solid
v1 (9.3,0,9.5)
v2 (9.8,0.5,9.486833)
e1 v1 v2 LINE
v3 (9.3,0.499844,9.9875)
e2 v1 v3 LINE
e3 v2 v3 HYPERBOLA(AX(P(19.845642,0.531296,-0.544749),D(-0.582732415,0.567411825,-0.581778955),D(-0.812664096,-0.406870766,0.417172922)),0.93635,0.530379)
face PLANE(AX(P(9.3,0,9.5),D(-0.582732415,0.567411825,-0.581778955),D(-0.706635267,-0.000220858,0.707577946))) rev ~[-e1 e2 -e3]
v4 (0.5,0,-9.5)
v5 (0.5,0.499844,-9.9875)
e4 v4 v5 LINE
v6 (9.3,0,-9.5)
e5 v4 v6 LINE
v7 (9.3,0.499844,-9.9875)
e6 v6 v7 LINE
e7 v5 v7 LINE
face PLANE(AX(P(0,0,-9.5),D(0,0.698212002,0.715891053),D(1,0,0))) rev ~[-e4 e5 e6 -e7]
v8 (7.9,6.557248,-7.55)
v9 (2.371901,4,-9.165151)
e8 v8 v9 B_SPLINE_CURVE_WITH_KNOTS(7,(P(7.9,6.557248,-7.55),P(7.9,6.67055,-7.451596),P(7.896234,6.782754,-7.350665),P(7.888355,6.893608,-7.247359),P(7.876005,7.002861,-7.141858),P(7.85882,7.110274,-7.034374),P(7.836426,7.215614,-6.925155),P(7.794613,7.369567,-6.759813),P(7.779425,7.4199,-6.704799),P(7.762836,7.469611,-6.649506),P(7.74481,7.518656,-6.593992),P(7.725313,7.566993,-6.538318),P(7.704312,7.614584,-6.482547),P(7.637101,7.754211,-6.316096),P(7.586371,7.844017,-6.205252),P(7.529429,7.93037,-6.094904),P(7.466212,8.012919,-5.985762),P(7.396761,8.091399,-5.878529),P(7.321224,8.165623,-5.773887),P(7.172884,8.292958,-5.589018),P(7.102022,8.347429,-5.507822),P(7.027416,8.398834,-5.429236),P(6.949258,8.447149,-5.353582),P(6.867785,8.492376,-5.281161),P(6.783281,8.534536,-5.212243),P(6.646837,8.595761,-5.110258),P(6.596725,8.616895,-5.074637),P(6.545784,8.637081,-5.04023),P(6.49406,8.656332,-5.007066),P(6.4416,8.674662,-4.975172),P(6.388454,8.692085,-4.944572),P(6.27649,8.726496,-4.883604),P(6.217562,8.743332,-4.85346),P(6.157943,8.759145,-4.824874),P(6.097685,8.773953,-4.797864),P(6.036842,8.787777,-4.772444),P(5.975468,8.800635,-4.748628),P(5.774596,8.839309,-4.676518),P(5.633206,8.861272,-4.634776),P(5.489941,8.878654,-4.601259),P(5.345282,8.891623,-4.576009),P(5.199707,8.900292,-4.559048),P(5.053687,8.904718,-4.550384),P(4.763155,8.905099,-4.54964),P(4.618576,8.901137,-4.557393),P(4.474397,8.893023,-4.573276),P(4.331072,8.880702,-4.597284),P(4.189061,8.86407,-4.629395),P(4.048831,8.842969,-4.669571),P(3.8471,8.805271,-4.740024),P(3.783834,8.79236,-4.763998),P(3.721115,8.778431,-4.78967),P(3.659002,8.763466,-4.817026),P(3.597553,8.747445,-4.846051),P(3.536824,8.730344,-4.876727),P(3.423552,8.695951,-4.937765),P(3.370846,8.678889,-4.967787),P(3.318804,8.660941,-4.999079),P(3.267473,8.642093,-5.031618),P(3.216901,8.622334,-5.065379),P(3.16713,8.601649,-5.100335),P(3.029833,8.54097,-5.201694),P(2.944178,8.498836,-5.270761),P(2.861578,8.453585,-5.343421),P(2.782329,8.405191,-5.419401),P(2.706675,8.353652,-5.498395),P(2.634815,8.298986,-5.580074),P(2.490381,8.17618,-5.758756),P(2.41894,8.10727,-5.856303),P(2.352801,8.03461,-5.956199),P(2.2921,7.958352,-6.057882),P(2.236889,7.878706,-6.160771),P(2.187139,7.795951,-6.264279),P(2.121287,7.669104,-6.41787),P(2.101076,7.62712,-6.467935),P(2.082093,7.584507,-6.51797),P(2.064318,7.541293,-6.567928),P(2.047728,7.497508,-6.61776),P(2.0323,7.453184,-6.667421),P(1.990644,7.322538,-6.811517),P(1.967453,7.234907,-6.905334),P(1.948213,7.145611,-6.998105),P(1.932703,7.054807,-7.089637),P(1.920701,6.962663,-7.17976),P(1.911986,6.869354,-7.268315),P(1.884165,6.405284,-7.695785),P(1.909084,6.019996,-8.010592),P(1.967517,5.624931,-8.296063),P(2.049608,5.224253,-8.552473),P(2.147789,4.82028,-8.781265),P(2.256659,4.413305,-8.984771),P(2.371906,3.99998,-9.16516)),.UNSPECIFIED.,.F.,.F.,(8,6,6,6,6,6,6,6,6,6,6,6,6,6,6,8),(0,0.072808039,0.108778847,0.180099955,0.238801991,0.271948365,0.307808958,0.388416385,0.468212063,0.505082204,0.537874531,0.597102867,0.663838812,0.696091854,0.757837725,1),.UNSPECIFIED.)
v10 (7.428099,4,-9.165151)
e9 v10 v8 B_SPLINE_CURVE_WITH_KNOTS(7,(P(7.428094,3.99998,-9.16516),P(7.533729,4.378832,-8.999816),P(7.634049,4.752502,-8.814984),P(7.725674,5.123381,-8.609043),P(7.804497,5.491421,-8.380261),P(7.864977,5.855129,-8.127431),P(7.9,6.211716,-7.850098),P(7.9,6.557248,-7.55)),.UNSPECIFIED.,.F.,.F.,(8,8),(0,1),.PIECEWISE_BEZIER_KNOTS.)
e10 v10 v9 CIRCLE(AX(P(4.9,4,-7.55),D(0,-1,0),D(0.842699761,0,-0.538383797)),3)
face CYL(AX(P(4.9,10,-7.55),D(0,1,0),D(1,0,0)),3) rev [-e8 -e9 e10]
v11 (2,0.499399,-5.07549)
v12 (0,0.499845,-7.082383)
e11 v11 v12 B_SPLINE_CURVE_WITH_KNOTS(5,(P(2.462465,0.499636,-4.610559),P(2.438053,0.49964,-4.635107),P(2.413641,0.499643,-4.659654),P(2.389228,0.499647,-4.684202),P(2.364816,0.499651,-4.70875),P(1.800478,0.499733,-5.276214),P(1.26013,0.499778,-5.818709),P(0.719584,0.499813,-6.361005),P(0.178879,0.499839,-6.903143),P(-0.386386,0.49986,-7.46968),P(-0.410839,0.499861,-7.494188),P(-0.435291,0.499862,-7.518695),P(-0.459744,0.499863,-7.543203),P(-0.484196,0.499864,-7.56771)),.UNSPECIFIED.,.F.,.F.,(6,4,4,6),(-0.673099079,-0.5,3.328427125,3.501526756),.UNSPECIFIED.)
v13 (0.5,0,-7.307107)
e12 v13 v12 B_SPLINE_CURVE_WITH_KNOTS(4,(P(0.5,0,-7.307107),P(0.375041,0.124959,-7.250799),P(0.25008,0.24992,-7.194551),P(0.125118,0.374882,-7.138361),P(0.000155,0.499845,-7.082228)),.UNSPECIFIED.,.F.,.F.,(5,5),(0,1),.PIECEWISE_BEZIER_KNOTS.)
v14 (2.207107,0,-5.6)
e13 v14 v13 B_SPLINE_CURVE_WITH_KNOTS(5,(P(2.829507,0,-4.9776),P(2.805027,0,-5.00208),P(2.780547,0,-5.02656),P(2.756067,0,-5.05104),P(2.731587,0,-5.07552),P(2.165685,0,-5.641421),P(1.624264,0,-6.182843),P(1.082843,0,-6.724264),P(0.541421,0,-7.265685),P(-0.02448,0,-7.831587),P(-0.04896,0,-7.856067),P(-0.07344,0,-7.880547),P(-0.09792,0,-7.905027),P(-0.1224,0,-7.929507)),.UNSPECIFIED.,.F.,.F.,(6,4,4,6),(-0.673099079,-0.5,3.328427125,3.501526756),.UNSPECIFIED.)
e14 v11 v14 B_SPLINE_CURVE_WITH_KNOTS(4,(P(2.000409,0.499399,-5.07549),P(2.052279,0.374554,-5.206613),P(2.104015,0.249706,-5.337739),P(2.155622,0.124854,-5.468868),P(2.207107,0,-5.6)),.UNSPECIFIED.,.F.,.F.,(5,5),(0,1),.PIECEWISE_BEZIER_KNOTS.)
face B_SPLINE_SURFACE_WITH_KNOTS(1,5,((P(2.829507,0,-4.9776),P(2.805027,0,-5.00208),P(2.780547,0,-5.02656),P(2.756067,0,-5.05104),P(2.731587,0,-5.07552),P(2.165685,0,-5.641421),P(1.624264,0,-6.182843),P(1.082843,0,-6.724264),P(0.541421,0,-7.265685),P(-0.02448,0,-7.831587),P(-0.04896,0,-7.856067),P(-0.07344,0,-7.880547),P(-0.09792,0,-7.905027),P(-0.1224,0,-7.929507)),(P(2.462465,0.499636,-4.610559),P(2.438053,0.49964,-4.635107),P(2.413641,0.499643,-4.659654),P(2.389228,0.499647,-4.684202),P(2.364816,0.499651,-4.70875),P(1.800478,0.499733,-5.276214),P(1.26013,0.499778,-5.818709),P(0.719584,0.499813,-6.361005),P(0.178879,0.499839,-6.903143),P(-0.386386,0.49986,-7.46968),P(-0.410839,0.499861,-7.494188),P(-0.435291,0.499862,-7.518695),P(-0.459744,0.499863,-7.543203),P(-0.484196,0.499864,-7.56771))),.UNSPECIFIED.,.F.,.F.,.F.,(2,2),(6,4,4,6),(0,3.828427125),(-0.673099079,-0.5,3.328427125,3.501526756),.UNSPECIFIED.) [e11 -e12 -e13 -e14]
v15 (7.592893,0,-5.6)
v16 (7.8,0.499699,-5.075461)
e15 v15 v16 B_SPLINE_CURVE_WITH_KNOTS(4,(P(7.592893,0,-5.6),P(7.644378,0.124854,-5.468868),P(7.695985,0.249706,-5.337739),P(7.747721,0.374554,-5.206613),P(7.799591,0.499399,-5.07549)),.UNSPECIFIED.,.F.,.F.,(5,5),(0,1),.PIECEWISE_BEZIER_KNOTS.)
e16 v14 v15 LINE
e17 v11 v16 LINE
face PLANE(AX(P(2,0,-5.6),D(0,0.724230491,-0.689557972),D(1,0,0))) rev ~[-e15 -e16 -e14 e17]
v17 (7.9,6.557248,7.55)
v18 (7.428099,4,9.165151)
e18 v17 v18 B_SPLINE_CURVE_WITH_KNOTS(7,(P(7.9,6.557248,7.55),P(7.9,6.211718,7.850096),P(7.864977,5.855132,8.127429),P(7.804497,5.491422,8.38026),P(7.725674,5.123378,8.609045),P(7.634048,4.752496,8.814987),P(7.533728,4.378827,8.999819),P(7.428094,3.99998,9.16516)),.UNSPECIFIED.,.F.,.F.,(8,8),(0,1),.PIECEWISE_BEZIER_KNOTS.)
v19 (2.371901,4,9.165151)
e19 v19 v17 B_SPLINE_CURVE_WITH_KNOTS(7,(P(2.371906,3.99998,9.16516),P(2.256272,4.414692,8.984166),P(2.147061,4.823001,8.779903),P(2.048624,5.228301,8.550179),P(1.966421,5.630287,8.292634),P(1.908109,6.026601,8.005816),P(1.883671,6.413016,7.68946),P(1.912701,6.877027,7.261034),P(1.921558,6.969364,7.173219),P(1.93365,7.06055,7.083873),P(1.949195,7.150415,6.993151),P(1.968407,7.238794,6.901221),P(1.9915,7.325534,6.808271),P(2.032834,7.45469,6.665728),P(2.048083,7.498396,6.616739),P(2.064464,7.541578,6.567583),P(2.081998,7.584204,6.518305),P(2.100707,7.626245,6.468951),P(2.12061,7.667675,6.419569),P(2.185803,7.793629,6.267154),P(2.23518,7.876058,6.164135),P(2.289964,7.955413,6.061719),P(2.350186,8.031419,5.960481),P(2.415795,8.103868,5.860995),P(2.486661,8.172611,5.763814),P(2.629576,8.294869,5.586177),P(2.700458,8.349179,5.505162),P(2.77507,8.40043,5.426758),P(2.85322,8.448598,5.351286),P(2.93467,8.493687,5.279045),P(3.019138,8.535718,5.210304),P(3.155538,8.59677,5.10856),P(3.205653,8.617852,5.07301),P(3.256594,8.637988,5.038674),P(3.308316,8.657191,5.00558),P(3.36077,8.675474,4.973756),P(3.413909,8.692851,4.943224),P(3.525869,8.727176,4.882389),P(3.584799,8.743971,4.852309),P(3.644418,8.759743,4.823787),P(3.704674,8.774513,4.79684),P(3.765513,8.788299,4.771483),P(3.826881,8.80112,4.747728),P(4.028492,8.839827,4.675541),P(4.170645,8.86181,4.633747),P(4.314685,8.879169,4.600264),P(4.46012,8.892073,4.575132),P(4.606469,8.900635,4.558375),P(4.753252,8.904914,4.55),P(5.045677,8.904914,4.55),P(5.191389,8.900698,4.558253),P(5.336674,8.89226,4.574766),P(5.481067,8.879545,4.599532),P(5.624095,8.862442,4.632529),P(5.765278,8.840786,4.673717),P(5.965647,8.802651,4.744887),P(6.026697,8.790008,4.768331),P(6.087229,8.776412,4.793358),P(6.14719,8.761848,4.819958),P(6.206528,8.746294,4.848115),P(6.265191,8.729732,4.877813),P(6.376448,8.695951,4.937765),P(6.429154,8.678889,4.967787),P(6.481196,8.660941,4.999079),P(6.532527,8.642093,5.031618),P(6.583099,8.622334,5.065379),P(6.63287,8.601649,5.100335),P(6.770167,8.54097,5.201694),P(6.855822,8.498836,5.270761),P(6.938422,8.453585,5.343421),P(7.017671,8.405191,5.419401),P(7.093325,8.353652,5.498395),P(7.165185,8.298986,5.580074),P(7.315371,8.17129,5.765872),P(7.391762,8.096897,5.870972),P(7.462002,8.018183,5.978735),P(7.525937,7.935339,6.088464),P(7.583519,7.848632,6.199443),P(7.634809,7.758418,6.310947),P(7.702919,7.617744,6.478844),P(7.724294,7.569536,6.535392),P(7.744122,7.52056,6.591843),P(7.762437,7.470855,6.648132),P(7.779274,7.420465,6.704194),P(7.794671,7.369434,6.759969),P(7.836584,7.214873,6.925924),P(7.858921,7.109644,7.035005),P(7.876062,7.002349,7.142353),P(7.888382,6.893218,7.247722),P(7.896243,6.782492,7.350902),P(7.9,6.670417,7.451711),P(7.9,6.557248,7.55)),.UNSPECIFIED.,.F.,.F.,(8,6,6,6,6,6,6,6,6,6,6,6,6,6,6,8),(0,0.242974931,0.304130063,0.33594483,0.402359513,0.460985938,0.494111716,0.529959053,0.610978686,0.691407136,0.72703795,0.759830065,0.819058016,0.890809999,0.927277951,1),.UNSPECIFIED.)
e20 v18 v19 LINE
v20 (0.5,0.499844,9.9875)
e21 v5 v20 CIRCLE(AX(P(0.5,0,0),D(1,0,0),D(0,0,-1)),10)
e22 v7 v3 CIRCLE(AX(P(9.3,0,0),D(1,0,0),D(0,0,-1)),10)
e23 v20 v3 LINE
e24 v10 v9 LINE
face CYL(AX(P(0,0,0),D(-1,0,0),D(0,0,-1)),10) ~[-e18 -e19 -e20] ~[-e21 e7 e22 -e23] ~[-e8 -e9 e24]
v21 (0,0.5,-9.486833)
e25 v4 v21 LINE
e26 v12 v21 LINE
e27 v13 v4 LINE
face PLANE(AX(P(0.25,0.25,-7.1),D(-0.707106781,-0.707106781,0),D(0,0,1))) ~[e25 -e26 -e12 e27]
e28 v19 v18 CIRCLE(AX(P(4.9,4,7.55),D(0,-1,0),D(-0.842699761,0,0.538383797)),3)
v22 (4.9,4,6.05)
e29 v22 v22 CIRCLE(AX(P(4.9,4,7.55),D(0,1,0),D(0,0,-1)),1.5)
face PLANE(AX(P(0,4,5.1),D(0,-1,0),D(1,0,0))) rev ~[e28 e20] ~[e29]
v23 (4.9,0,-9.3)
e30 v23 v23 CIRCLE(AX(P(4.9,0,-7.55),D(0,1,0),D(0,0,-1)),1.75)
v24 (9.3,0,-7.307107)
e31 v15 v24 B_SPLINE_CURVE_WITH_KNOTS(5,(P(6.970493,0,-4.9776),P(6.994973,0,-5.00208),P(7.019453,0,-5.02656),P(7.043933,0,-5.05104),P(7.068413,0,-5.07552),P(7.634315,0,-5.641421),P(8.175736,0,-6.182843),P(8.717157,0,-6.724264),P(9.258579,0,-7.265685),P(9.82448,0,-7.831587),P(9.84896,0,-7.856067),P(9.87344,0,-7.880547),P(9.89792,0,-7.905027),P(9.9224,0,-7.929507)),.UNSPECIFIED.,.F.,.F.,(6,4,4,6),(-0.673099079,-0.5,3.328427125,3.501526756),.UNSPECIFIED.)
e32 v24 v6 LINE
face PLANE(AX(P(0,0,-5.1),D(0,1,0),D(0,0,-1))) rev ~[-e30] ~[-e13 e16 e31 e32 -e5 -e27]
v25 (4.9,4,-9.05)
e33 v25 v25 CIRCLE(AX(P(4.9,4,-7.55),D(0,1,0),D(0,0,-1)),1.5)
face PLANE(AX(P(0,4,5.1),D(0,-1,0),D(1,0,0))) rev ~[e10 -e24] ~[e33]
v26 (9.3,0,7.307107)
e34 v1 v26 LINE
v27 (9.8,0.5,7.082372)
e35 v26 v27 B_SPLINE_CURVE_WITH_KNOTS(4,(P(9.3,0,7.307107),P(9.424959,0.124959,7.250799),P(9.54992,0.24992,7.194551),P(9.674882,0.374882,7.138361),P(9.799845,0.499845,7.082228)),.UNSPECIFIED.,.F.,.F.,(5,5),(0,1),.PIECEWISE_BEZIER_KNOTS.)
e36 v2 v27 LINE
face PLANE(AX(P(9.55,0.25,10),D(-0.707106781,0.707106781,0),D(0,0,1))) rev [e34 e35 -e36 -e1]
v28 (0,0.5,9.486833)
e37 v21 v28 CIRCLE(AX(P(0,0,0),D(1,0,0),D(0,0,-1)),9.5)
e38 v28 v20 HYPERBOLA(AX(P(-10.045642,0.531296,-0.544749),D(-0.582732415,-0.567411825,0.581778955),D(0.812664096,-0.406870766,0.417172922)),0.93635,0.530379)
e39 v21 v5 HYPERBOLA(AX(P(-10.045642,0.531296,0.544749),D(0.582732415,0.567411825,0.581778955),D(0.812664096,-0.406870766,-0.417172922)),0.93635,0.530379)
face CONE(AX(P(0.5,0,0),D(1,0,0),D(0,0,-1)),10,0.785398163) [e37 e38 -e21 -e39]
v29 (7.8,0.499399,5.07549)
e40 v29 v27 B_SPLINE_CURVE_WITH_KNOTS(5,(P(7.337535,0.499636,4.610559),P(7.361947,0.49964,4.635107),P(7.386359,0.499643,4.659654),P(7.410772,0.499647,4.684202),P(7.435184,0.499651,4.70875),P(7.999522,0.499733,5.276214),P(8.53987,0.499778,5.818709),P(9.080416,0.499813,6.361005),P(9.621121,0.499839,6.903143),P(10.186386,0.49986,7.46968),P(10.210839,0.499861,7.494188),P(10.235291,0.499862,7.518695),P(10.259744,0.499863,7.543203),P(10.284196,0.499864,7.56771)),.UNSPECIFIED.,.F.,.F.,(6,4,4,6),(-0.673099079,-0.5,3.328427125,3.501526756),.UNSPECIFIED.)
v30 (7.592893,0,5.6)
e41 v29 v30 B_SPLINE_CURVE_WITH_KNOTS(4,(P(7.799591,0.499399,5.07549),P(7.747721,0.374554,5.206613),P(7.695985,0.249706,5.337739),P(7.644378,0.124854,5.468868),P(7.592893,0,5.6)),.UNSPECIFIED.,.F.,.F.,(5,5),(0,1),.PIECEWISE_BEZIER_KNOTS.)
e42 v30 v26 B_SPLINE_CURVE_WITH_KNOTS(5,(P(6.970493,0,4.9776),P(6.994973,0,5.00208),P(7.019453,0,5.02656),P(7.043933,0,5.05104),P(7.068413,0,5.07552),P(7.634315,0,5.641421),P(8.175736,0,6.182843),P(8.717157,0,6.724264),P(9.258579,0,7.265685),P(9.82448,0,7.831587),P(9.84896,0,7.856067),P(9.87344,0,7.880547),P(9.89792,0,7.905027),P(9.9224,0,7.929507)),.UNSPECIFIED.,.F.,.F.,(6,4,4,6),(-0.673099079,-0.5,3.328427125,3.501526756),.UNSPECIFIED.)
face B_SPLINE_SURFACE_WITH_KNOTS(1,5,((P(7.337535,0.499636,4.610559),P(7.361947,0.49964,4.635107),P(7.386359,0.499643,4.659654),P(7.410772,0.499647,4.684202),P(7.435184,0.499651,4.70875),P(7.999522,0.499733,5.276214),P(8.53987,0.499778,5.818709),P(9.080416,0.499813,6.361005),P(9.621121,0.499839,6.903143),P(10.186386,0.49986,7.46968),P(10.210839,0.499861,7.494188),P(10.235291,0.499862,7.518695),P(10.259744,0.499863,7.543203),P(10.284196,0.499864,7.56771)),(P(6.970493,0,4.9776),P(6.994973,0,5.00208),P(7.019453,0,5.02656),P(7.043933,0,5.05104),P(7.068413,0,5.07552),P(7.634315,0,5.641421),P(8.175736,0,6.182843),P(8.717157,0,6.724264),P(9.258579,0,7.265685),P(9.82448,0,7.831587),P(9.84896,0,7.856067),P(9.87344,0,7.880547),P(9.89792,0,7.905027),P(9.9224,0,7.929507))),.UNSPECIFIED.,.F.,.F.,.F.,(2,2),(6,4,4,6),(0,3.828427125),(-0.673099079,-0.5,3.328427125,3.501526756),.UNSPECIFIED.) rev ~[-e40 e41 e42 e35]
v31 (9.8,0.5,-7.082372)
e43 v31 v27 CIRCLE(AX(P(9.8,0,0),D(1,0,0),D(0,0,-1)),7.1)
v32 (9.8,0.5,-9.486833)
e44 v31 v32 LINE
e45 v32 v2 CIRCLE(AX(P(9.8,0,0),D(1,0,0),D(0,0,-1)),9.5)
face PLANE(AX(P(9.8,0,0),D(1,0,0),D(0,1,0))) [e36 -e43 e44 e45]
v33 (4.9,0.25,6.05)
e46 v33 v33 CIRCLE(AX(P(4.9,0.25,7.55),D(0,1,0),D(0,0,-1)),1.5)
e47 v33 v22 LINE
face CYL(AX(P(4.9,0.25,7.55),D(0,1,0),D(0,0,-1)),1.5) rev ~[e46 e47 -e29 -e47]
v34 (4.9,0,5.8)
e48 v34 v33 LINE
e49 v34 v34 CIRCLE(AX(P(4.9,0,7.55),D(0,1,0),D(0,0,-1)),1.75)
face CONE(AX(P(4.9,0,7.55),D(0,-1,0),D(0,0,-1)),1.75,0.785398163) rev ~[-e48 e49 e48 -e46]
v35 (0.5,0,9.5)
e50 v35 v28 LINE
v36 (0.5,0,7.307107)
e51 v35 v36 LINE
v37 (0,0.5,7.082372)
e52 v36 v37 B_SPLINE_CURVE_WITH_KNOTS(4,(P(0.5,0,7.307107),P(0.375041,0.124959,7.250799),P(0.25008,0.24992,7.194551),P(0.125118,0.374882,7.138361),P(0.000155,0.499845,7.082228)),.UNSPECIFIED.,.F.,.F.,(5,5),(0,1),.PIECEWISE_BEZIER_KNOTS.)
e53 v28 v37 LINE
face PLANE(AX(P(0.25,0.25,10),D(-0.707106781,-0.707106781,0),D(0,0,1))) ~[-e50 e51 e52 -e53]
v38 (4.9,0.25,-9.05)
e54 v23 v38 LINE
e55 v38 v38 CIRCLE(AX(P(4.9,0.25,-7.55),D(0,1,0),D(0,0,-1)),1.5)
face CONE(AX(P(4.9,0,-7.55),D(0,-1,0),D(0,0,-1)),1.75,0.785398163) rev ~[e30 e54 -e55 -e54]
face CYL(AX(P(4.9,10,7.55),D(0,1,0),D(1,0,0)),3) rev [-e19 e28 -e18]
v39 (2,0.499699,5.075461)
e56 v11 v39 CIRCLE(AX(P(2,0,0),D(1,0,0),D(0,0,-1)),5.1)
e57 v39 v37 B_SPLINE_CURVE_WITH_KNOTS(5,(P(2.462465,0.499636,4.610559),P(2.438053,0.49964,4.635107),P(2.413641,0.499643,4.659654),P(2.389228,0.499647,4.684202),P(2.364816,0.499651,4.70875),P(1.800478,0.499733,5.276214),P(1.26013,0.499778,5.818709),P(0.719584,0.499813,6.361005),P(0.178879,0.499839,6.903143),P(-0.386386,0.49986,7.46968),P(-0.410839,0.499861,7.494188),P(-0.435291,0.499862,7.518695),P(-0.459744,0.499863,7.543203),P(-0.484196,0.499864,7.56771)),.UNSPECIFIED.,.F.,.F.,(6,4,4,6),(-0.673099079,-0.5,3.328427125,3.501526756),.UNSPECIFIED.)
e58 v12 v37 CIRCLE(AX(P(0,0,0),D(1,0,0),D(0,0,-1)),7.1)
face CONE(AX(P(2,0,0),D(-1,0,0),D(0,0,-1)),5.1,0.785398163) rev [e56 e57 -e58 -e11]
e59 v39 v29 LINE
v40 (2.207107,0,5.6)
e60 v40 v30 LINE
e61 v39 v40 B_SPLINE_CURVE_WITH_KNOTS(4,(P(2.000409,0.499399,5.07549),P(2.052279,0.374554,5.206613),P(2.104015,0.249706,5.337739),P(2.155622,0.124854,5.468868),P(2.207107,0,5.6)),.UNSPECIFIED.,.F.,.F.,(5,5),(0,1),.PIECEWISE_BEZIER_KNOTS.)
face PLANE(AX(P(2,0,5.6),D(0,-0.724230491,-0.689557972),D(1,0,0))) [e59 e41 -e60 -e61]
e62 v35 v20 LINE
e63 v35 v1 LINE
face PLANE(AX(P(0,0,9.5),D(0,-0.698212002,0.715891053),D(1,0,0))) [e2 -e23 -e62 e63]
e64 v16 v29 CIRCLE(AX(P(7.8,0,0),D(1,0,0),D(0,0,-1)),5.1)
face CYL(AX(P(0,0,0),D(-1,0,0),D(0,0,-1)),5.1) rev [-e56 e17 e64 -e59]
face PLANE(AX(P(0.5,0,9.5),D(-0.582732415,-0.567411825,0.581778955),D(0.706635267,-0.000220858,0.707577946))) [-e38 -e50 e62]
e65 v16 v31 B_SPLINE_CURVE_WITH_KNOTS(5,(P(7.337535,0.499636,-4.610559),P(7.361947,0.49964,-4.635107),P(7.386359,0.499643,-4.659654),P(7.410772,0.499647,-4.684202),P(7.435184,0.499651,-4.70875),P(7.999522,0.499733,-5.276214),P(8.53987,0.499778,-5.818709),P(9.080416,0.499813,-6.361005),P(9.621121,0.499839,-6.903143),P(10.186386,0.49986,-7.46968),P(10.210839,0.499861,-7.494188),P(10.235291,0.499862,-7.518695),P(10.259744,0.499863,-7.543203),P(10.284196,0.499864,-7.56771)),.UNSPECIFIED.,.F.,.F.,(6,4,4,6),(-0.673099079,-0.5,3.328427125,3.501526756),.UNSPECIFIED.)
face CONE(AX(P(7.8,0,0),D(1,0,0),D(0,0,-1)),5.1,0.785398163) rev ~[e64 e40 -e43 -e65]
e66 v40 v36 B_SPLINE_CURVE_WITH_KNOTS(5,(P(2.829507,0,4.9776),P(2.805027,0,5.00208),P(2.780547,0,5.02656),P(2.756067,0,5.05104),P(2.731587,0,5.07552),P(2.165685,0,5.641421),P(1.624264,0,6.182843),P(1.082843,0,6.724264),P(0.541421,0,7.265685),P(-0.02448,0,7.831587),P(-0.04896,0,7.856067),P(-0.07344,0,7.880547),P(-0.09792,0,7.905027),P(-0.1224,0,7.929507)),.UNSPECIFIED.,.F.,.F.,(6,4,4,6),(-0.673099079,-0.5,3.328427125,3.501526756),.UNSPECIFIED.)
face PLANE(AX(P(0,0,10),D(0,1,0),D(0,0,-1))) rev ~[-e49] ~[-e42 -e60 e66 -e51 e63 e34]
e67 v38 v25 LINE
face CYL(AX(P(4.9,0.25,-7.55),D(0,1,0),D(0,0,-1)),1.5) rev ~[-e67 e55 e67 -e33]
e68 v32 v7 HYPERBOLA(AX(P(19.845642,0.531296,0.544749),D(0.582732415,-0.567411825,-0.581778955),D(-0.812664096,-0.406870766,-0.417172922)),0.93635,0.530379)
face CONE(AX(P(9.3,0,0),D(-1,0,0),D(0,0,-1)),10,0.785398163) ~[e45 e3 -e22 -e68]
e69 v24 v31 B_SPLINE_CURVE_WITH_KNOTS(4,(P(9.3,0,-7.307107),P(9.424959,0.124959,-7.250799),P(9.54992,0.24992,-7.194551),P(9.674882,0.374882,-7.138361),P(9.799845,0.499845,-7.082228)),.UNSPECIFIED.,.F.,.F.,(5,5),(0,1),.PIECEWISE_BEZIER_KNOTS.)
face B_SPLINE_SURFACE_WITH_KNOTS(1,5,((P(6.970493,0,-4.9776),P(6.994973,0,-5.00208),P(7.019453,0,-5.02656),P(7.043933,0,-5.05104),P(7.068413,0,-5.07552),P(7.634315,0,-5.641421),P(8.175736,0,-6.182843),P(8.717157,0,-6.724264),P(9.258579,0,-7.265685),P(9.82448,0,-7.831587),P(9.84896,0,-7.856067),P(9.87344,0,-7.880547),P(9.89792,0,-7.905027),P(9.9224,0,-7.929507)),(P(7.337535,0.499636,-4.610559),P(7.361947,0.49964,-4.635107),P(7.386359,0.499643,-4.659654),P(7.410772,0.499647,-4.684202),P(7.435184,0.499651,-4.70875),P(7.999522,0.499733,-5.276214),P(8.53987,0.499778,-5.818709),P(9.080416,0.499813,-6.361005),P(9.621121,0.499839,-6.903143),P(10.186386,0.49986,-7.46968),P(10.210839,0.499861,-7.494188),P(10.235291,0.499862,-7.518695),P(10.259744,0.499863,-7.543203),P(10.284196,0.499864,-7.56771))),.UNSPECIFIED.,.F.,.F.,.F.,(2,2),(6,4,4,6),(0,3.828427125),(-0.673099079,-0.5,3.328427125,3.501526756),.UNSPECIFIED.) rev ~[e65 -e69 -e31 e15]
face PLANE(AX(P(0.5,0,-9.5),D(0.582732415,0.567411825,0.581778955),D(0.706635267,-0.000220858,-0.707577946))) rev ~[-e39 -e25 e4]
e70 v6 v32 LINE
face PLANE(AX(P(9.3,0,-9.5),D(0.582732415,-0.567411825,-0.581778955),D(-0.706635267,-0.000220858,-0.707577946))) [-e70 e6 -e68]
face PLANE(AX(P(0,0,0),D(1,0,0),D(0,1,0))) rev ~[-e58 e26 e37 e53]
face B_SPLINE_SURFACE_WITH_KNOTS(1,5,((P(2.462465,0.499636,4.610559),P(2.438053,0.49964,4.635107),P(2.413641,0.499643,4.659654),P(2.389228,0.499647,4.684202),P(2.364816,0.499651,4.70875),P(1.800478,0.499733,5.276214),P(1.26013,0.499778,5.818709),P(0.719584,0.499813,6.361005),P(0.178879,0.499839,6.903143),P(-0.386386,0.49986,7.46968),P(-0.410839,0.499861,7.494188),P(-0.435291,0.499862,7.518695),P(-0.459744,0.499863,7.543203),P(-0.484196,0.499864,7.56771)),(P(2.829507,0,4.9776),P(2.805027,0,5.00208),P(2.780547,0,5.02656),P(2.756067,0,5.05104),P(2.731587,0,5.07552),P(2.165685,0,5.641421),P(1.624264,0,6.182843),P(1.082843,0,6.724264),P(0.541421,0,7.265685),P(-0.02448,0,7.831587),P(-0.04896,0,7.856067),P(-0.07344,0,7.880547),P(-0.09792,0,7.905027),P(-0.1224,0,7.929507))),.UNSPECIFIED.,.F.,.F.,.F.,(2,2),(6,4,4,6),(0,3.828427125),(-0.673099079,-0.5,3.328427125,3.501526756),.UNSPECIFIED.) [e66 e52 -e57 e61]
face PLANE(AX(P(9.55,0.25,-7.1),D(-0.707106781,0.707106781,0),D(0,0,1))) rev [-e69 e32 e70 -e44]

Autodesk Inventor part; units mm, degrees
ref_plane "YZ Plane" through (0, 0, 0) normal (1, 0, 0) x (0, 1, 0)
ref_plane "XZ Plane" through (0, 0, 0) normal (0, 1, 0) x (-1, 0, 0)
sketch "Sketch1" plane through (0, 0, 0) normal (1, 0, 0) x (0, 1, 0)
  arc A0 (0, -5.1) -> (0, 5.1) centre (0, 0) ccw
  arc A1 (0, -10) -> (0, 10) centre (0, 0) ccw
  line L0 (0, 10) -> (0, 5.1)
  line L1 (0, -5.1) -> (0, -10)
  dimension "d0" = 10.2
  dimension "d1" = 20
extrude "Extrusion1" add sketch "Sketch1" along normal blind 9.8
sketch "Sketch2" plane through (0, 0, 5.1) normal (0, -1, 0) x (1, 0, 0)
  line L0 (0, 4.9) -> (0, 0) projected
  line L1 (0, 0) -> (9.8, 0) projected
  line L2 (0, 4.9) -> (9.8, 0)
  line L3 (0, -10.2) -> (9.8, -10.2) projected
  line L4 (0, -15.1) -> (9.8, -15.1) projected
  line L5 (0, -10.2) -> (9.8, -15.1)
  point P0 (0, -5.1)
  point P1 (4.9, 2.45)
  point P2 (4.9, -12.65)
hole "Hole1" at (4.9, 0, 7.55) at (4.9, 0, -7.55) direction (0, 1, 0) diameter 3 end through all countersink diameter 3.5 countersink angle 90
ref_plane "Work Plane1" through (0, 10, 5.1) normal (0, -1, 0) x (1, 0, 0)
sketch "Sketch3" plane through (0, 10, 5.1) normal (0, -1, 0) x (1, 0, 0)
  circle A0 centre (4.9, -12.65) radius 1.5 projected
  circle A1 centre (4.9, -12.65) radius 3
  circle A2 centre (4.9, 2.45) radius 1.5 projected
  circle A3 centre (4.9, 2.45) radius 3
  point P0 (0, -5.1)
  dimension "d12" = 6
  dimension "d13" = 6
extrude "Extrusion2" cut sketch "Sketch3" along normal blind 6 contours A0 | A1 | A2 | A3
chamfer "Chamfer1" distance 2 angle 45 2 edges at (9.8, 5.1, 0) (0, 5.1, 0)
chamfer "Chamfer2" distance 0.5 angle 45 14 edges at (9.8, 10, 0) (9.8, 0, 8.55) (4.9, 0, 10) (0, 10, 0) (9.8, 0, -8.55) (8.8, 0, -6.1) (4.9, 0, -5.1) (0, 0, 8.55) (1, 0, 6.1) (4.9, 0, 5.1) (8.8, 0, 6.1) (1, 0, -6.1) (0, 0, -8.55) (4.9, 0, -10)
properties part number "ForkTop"
